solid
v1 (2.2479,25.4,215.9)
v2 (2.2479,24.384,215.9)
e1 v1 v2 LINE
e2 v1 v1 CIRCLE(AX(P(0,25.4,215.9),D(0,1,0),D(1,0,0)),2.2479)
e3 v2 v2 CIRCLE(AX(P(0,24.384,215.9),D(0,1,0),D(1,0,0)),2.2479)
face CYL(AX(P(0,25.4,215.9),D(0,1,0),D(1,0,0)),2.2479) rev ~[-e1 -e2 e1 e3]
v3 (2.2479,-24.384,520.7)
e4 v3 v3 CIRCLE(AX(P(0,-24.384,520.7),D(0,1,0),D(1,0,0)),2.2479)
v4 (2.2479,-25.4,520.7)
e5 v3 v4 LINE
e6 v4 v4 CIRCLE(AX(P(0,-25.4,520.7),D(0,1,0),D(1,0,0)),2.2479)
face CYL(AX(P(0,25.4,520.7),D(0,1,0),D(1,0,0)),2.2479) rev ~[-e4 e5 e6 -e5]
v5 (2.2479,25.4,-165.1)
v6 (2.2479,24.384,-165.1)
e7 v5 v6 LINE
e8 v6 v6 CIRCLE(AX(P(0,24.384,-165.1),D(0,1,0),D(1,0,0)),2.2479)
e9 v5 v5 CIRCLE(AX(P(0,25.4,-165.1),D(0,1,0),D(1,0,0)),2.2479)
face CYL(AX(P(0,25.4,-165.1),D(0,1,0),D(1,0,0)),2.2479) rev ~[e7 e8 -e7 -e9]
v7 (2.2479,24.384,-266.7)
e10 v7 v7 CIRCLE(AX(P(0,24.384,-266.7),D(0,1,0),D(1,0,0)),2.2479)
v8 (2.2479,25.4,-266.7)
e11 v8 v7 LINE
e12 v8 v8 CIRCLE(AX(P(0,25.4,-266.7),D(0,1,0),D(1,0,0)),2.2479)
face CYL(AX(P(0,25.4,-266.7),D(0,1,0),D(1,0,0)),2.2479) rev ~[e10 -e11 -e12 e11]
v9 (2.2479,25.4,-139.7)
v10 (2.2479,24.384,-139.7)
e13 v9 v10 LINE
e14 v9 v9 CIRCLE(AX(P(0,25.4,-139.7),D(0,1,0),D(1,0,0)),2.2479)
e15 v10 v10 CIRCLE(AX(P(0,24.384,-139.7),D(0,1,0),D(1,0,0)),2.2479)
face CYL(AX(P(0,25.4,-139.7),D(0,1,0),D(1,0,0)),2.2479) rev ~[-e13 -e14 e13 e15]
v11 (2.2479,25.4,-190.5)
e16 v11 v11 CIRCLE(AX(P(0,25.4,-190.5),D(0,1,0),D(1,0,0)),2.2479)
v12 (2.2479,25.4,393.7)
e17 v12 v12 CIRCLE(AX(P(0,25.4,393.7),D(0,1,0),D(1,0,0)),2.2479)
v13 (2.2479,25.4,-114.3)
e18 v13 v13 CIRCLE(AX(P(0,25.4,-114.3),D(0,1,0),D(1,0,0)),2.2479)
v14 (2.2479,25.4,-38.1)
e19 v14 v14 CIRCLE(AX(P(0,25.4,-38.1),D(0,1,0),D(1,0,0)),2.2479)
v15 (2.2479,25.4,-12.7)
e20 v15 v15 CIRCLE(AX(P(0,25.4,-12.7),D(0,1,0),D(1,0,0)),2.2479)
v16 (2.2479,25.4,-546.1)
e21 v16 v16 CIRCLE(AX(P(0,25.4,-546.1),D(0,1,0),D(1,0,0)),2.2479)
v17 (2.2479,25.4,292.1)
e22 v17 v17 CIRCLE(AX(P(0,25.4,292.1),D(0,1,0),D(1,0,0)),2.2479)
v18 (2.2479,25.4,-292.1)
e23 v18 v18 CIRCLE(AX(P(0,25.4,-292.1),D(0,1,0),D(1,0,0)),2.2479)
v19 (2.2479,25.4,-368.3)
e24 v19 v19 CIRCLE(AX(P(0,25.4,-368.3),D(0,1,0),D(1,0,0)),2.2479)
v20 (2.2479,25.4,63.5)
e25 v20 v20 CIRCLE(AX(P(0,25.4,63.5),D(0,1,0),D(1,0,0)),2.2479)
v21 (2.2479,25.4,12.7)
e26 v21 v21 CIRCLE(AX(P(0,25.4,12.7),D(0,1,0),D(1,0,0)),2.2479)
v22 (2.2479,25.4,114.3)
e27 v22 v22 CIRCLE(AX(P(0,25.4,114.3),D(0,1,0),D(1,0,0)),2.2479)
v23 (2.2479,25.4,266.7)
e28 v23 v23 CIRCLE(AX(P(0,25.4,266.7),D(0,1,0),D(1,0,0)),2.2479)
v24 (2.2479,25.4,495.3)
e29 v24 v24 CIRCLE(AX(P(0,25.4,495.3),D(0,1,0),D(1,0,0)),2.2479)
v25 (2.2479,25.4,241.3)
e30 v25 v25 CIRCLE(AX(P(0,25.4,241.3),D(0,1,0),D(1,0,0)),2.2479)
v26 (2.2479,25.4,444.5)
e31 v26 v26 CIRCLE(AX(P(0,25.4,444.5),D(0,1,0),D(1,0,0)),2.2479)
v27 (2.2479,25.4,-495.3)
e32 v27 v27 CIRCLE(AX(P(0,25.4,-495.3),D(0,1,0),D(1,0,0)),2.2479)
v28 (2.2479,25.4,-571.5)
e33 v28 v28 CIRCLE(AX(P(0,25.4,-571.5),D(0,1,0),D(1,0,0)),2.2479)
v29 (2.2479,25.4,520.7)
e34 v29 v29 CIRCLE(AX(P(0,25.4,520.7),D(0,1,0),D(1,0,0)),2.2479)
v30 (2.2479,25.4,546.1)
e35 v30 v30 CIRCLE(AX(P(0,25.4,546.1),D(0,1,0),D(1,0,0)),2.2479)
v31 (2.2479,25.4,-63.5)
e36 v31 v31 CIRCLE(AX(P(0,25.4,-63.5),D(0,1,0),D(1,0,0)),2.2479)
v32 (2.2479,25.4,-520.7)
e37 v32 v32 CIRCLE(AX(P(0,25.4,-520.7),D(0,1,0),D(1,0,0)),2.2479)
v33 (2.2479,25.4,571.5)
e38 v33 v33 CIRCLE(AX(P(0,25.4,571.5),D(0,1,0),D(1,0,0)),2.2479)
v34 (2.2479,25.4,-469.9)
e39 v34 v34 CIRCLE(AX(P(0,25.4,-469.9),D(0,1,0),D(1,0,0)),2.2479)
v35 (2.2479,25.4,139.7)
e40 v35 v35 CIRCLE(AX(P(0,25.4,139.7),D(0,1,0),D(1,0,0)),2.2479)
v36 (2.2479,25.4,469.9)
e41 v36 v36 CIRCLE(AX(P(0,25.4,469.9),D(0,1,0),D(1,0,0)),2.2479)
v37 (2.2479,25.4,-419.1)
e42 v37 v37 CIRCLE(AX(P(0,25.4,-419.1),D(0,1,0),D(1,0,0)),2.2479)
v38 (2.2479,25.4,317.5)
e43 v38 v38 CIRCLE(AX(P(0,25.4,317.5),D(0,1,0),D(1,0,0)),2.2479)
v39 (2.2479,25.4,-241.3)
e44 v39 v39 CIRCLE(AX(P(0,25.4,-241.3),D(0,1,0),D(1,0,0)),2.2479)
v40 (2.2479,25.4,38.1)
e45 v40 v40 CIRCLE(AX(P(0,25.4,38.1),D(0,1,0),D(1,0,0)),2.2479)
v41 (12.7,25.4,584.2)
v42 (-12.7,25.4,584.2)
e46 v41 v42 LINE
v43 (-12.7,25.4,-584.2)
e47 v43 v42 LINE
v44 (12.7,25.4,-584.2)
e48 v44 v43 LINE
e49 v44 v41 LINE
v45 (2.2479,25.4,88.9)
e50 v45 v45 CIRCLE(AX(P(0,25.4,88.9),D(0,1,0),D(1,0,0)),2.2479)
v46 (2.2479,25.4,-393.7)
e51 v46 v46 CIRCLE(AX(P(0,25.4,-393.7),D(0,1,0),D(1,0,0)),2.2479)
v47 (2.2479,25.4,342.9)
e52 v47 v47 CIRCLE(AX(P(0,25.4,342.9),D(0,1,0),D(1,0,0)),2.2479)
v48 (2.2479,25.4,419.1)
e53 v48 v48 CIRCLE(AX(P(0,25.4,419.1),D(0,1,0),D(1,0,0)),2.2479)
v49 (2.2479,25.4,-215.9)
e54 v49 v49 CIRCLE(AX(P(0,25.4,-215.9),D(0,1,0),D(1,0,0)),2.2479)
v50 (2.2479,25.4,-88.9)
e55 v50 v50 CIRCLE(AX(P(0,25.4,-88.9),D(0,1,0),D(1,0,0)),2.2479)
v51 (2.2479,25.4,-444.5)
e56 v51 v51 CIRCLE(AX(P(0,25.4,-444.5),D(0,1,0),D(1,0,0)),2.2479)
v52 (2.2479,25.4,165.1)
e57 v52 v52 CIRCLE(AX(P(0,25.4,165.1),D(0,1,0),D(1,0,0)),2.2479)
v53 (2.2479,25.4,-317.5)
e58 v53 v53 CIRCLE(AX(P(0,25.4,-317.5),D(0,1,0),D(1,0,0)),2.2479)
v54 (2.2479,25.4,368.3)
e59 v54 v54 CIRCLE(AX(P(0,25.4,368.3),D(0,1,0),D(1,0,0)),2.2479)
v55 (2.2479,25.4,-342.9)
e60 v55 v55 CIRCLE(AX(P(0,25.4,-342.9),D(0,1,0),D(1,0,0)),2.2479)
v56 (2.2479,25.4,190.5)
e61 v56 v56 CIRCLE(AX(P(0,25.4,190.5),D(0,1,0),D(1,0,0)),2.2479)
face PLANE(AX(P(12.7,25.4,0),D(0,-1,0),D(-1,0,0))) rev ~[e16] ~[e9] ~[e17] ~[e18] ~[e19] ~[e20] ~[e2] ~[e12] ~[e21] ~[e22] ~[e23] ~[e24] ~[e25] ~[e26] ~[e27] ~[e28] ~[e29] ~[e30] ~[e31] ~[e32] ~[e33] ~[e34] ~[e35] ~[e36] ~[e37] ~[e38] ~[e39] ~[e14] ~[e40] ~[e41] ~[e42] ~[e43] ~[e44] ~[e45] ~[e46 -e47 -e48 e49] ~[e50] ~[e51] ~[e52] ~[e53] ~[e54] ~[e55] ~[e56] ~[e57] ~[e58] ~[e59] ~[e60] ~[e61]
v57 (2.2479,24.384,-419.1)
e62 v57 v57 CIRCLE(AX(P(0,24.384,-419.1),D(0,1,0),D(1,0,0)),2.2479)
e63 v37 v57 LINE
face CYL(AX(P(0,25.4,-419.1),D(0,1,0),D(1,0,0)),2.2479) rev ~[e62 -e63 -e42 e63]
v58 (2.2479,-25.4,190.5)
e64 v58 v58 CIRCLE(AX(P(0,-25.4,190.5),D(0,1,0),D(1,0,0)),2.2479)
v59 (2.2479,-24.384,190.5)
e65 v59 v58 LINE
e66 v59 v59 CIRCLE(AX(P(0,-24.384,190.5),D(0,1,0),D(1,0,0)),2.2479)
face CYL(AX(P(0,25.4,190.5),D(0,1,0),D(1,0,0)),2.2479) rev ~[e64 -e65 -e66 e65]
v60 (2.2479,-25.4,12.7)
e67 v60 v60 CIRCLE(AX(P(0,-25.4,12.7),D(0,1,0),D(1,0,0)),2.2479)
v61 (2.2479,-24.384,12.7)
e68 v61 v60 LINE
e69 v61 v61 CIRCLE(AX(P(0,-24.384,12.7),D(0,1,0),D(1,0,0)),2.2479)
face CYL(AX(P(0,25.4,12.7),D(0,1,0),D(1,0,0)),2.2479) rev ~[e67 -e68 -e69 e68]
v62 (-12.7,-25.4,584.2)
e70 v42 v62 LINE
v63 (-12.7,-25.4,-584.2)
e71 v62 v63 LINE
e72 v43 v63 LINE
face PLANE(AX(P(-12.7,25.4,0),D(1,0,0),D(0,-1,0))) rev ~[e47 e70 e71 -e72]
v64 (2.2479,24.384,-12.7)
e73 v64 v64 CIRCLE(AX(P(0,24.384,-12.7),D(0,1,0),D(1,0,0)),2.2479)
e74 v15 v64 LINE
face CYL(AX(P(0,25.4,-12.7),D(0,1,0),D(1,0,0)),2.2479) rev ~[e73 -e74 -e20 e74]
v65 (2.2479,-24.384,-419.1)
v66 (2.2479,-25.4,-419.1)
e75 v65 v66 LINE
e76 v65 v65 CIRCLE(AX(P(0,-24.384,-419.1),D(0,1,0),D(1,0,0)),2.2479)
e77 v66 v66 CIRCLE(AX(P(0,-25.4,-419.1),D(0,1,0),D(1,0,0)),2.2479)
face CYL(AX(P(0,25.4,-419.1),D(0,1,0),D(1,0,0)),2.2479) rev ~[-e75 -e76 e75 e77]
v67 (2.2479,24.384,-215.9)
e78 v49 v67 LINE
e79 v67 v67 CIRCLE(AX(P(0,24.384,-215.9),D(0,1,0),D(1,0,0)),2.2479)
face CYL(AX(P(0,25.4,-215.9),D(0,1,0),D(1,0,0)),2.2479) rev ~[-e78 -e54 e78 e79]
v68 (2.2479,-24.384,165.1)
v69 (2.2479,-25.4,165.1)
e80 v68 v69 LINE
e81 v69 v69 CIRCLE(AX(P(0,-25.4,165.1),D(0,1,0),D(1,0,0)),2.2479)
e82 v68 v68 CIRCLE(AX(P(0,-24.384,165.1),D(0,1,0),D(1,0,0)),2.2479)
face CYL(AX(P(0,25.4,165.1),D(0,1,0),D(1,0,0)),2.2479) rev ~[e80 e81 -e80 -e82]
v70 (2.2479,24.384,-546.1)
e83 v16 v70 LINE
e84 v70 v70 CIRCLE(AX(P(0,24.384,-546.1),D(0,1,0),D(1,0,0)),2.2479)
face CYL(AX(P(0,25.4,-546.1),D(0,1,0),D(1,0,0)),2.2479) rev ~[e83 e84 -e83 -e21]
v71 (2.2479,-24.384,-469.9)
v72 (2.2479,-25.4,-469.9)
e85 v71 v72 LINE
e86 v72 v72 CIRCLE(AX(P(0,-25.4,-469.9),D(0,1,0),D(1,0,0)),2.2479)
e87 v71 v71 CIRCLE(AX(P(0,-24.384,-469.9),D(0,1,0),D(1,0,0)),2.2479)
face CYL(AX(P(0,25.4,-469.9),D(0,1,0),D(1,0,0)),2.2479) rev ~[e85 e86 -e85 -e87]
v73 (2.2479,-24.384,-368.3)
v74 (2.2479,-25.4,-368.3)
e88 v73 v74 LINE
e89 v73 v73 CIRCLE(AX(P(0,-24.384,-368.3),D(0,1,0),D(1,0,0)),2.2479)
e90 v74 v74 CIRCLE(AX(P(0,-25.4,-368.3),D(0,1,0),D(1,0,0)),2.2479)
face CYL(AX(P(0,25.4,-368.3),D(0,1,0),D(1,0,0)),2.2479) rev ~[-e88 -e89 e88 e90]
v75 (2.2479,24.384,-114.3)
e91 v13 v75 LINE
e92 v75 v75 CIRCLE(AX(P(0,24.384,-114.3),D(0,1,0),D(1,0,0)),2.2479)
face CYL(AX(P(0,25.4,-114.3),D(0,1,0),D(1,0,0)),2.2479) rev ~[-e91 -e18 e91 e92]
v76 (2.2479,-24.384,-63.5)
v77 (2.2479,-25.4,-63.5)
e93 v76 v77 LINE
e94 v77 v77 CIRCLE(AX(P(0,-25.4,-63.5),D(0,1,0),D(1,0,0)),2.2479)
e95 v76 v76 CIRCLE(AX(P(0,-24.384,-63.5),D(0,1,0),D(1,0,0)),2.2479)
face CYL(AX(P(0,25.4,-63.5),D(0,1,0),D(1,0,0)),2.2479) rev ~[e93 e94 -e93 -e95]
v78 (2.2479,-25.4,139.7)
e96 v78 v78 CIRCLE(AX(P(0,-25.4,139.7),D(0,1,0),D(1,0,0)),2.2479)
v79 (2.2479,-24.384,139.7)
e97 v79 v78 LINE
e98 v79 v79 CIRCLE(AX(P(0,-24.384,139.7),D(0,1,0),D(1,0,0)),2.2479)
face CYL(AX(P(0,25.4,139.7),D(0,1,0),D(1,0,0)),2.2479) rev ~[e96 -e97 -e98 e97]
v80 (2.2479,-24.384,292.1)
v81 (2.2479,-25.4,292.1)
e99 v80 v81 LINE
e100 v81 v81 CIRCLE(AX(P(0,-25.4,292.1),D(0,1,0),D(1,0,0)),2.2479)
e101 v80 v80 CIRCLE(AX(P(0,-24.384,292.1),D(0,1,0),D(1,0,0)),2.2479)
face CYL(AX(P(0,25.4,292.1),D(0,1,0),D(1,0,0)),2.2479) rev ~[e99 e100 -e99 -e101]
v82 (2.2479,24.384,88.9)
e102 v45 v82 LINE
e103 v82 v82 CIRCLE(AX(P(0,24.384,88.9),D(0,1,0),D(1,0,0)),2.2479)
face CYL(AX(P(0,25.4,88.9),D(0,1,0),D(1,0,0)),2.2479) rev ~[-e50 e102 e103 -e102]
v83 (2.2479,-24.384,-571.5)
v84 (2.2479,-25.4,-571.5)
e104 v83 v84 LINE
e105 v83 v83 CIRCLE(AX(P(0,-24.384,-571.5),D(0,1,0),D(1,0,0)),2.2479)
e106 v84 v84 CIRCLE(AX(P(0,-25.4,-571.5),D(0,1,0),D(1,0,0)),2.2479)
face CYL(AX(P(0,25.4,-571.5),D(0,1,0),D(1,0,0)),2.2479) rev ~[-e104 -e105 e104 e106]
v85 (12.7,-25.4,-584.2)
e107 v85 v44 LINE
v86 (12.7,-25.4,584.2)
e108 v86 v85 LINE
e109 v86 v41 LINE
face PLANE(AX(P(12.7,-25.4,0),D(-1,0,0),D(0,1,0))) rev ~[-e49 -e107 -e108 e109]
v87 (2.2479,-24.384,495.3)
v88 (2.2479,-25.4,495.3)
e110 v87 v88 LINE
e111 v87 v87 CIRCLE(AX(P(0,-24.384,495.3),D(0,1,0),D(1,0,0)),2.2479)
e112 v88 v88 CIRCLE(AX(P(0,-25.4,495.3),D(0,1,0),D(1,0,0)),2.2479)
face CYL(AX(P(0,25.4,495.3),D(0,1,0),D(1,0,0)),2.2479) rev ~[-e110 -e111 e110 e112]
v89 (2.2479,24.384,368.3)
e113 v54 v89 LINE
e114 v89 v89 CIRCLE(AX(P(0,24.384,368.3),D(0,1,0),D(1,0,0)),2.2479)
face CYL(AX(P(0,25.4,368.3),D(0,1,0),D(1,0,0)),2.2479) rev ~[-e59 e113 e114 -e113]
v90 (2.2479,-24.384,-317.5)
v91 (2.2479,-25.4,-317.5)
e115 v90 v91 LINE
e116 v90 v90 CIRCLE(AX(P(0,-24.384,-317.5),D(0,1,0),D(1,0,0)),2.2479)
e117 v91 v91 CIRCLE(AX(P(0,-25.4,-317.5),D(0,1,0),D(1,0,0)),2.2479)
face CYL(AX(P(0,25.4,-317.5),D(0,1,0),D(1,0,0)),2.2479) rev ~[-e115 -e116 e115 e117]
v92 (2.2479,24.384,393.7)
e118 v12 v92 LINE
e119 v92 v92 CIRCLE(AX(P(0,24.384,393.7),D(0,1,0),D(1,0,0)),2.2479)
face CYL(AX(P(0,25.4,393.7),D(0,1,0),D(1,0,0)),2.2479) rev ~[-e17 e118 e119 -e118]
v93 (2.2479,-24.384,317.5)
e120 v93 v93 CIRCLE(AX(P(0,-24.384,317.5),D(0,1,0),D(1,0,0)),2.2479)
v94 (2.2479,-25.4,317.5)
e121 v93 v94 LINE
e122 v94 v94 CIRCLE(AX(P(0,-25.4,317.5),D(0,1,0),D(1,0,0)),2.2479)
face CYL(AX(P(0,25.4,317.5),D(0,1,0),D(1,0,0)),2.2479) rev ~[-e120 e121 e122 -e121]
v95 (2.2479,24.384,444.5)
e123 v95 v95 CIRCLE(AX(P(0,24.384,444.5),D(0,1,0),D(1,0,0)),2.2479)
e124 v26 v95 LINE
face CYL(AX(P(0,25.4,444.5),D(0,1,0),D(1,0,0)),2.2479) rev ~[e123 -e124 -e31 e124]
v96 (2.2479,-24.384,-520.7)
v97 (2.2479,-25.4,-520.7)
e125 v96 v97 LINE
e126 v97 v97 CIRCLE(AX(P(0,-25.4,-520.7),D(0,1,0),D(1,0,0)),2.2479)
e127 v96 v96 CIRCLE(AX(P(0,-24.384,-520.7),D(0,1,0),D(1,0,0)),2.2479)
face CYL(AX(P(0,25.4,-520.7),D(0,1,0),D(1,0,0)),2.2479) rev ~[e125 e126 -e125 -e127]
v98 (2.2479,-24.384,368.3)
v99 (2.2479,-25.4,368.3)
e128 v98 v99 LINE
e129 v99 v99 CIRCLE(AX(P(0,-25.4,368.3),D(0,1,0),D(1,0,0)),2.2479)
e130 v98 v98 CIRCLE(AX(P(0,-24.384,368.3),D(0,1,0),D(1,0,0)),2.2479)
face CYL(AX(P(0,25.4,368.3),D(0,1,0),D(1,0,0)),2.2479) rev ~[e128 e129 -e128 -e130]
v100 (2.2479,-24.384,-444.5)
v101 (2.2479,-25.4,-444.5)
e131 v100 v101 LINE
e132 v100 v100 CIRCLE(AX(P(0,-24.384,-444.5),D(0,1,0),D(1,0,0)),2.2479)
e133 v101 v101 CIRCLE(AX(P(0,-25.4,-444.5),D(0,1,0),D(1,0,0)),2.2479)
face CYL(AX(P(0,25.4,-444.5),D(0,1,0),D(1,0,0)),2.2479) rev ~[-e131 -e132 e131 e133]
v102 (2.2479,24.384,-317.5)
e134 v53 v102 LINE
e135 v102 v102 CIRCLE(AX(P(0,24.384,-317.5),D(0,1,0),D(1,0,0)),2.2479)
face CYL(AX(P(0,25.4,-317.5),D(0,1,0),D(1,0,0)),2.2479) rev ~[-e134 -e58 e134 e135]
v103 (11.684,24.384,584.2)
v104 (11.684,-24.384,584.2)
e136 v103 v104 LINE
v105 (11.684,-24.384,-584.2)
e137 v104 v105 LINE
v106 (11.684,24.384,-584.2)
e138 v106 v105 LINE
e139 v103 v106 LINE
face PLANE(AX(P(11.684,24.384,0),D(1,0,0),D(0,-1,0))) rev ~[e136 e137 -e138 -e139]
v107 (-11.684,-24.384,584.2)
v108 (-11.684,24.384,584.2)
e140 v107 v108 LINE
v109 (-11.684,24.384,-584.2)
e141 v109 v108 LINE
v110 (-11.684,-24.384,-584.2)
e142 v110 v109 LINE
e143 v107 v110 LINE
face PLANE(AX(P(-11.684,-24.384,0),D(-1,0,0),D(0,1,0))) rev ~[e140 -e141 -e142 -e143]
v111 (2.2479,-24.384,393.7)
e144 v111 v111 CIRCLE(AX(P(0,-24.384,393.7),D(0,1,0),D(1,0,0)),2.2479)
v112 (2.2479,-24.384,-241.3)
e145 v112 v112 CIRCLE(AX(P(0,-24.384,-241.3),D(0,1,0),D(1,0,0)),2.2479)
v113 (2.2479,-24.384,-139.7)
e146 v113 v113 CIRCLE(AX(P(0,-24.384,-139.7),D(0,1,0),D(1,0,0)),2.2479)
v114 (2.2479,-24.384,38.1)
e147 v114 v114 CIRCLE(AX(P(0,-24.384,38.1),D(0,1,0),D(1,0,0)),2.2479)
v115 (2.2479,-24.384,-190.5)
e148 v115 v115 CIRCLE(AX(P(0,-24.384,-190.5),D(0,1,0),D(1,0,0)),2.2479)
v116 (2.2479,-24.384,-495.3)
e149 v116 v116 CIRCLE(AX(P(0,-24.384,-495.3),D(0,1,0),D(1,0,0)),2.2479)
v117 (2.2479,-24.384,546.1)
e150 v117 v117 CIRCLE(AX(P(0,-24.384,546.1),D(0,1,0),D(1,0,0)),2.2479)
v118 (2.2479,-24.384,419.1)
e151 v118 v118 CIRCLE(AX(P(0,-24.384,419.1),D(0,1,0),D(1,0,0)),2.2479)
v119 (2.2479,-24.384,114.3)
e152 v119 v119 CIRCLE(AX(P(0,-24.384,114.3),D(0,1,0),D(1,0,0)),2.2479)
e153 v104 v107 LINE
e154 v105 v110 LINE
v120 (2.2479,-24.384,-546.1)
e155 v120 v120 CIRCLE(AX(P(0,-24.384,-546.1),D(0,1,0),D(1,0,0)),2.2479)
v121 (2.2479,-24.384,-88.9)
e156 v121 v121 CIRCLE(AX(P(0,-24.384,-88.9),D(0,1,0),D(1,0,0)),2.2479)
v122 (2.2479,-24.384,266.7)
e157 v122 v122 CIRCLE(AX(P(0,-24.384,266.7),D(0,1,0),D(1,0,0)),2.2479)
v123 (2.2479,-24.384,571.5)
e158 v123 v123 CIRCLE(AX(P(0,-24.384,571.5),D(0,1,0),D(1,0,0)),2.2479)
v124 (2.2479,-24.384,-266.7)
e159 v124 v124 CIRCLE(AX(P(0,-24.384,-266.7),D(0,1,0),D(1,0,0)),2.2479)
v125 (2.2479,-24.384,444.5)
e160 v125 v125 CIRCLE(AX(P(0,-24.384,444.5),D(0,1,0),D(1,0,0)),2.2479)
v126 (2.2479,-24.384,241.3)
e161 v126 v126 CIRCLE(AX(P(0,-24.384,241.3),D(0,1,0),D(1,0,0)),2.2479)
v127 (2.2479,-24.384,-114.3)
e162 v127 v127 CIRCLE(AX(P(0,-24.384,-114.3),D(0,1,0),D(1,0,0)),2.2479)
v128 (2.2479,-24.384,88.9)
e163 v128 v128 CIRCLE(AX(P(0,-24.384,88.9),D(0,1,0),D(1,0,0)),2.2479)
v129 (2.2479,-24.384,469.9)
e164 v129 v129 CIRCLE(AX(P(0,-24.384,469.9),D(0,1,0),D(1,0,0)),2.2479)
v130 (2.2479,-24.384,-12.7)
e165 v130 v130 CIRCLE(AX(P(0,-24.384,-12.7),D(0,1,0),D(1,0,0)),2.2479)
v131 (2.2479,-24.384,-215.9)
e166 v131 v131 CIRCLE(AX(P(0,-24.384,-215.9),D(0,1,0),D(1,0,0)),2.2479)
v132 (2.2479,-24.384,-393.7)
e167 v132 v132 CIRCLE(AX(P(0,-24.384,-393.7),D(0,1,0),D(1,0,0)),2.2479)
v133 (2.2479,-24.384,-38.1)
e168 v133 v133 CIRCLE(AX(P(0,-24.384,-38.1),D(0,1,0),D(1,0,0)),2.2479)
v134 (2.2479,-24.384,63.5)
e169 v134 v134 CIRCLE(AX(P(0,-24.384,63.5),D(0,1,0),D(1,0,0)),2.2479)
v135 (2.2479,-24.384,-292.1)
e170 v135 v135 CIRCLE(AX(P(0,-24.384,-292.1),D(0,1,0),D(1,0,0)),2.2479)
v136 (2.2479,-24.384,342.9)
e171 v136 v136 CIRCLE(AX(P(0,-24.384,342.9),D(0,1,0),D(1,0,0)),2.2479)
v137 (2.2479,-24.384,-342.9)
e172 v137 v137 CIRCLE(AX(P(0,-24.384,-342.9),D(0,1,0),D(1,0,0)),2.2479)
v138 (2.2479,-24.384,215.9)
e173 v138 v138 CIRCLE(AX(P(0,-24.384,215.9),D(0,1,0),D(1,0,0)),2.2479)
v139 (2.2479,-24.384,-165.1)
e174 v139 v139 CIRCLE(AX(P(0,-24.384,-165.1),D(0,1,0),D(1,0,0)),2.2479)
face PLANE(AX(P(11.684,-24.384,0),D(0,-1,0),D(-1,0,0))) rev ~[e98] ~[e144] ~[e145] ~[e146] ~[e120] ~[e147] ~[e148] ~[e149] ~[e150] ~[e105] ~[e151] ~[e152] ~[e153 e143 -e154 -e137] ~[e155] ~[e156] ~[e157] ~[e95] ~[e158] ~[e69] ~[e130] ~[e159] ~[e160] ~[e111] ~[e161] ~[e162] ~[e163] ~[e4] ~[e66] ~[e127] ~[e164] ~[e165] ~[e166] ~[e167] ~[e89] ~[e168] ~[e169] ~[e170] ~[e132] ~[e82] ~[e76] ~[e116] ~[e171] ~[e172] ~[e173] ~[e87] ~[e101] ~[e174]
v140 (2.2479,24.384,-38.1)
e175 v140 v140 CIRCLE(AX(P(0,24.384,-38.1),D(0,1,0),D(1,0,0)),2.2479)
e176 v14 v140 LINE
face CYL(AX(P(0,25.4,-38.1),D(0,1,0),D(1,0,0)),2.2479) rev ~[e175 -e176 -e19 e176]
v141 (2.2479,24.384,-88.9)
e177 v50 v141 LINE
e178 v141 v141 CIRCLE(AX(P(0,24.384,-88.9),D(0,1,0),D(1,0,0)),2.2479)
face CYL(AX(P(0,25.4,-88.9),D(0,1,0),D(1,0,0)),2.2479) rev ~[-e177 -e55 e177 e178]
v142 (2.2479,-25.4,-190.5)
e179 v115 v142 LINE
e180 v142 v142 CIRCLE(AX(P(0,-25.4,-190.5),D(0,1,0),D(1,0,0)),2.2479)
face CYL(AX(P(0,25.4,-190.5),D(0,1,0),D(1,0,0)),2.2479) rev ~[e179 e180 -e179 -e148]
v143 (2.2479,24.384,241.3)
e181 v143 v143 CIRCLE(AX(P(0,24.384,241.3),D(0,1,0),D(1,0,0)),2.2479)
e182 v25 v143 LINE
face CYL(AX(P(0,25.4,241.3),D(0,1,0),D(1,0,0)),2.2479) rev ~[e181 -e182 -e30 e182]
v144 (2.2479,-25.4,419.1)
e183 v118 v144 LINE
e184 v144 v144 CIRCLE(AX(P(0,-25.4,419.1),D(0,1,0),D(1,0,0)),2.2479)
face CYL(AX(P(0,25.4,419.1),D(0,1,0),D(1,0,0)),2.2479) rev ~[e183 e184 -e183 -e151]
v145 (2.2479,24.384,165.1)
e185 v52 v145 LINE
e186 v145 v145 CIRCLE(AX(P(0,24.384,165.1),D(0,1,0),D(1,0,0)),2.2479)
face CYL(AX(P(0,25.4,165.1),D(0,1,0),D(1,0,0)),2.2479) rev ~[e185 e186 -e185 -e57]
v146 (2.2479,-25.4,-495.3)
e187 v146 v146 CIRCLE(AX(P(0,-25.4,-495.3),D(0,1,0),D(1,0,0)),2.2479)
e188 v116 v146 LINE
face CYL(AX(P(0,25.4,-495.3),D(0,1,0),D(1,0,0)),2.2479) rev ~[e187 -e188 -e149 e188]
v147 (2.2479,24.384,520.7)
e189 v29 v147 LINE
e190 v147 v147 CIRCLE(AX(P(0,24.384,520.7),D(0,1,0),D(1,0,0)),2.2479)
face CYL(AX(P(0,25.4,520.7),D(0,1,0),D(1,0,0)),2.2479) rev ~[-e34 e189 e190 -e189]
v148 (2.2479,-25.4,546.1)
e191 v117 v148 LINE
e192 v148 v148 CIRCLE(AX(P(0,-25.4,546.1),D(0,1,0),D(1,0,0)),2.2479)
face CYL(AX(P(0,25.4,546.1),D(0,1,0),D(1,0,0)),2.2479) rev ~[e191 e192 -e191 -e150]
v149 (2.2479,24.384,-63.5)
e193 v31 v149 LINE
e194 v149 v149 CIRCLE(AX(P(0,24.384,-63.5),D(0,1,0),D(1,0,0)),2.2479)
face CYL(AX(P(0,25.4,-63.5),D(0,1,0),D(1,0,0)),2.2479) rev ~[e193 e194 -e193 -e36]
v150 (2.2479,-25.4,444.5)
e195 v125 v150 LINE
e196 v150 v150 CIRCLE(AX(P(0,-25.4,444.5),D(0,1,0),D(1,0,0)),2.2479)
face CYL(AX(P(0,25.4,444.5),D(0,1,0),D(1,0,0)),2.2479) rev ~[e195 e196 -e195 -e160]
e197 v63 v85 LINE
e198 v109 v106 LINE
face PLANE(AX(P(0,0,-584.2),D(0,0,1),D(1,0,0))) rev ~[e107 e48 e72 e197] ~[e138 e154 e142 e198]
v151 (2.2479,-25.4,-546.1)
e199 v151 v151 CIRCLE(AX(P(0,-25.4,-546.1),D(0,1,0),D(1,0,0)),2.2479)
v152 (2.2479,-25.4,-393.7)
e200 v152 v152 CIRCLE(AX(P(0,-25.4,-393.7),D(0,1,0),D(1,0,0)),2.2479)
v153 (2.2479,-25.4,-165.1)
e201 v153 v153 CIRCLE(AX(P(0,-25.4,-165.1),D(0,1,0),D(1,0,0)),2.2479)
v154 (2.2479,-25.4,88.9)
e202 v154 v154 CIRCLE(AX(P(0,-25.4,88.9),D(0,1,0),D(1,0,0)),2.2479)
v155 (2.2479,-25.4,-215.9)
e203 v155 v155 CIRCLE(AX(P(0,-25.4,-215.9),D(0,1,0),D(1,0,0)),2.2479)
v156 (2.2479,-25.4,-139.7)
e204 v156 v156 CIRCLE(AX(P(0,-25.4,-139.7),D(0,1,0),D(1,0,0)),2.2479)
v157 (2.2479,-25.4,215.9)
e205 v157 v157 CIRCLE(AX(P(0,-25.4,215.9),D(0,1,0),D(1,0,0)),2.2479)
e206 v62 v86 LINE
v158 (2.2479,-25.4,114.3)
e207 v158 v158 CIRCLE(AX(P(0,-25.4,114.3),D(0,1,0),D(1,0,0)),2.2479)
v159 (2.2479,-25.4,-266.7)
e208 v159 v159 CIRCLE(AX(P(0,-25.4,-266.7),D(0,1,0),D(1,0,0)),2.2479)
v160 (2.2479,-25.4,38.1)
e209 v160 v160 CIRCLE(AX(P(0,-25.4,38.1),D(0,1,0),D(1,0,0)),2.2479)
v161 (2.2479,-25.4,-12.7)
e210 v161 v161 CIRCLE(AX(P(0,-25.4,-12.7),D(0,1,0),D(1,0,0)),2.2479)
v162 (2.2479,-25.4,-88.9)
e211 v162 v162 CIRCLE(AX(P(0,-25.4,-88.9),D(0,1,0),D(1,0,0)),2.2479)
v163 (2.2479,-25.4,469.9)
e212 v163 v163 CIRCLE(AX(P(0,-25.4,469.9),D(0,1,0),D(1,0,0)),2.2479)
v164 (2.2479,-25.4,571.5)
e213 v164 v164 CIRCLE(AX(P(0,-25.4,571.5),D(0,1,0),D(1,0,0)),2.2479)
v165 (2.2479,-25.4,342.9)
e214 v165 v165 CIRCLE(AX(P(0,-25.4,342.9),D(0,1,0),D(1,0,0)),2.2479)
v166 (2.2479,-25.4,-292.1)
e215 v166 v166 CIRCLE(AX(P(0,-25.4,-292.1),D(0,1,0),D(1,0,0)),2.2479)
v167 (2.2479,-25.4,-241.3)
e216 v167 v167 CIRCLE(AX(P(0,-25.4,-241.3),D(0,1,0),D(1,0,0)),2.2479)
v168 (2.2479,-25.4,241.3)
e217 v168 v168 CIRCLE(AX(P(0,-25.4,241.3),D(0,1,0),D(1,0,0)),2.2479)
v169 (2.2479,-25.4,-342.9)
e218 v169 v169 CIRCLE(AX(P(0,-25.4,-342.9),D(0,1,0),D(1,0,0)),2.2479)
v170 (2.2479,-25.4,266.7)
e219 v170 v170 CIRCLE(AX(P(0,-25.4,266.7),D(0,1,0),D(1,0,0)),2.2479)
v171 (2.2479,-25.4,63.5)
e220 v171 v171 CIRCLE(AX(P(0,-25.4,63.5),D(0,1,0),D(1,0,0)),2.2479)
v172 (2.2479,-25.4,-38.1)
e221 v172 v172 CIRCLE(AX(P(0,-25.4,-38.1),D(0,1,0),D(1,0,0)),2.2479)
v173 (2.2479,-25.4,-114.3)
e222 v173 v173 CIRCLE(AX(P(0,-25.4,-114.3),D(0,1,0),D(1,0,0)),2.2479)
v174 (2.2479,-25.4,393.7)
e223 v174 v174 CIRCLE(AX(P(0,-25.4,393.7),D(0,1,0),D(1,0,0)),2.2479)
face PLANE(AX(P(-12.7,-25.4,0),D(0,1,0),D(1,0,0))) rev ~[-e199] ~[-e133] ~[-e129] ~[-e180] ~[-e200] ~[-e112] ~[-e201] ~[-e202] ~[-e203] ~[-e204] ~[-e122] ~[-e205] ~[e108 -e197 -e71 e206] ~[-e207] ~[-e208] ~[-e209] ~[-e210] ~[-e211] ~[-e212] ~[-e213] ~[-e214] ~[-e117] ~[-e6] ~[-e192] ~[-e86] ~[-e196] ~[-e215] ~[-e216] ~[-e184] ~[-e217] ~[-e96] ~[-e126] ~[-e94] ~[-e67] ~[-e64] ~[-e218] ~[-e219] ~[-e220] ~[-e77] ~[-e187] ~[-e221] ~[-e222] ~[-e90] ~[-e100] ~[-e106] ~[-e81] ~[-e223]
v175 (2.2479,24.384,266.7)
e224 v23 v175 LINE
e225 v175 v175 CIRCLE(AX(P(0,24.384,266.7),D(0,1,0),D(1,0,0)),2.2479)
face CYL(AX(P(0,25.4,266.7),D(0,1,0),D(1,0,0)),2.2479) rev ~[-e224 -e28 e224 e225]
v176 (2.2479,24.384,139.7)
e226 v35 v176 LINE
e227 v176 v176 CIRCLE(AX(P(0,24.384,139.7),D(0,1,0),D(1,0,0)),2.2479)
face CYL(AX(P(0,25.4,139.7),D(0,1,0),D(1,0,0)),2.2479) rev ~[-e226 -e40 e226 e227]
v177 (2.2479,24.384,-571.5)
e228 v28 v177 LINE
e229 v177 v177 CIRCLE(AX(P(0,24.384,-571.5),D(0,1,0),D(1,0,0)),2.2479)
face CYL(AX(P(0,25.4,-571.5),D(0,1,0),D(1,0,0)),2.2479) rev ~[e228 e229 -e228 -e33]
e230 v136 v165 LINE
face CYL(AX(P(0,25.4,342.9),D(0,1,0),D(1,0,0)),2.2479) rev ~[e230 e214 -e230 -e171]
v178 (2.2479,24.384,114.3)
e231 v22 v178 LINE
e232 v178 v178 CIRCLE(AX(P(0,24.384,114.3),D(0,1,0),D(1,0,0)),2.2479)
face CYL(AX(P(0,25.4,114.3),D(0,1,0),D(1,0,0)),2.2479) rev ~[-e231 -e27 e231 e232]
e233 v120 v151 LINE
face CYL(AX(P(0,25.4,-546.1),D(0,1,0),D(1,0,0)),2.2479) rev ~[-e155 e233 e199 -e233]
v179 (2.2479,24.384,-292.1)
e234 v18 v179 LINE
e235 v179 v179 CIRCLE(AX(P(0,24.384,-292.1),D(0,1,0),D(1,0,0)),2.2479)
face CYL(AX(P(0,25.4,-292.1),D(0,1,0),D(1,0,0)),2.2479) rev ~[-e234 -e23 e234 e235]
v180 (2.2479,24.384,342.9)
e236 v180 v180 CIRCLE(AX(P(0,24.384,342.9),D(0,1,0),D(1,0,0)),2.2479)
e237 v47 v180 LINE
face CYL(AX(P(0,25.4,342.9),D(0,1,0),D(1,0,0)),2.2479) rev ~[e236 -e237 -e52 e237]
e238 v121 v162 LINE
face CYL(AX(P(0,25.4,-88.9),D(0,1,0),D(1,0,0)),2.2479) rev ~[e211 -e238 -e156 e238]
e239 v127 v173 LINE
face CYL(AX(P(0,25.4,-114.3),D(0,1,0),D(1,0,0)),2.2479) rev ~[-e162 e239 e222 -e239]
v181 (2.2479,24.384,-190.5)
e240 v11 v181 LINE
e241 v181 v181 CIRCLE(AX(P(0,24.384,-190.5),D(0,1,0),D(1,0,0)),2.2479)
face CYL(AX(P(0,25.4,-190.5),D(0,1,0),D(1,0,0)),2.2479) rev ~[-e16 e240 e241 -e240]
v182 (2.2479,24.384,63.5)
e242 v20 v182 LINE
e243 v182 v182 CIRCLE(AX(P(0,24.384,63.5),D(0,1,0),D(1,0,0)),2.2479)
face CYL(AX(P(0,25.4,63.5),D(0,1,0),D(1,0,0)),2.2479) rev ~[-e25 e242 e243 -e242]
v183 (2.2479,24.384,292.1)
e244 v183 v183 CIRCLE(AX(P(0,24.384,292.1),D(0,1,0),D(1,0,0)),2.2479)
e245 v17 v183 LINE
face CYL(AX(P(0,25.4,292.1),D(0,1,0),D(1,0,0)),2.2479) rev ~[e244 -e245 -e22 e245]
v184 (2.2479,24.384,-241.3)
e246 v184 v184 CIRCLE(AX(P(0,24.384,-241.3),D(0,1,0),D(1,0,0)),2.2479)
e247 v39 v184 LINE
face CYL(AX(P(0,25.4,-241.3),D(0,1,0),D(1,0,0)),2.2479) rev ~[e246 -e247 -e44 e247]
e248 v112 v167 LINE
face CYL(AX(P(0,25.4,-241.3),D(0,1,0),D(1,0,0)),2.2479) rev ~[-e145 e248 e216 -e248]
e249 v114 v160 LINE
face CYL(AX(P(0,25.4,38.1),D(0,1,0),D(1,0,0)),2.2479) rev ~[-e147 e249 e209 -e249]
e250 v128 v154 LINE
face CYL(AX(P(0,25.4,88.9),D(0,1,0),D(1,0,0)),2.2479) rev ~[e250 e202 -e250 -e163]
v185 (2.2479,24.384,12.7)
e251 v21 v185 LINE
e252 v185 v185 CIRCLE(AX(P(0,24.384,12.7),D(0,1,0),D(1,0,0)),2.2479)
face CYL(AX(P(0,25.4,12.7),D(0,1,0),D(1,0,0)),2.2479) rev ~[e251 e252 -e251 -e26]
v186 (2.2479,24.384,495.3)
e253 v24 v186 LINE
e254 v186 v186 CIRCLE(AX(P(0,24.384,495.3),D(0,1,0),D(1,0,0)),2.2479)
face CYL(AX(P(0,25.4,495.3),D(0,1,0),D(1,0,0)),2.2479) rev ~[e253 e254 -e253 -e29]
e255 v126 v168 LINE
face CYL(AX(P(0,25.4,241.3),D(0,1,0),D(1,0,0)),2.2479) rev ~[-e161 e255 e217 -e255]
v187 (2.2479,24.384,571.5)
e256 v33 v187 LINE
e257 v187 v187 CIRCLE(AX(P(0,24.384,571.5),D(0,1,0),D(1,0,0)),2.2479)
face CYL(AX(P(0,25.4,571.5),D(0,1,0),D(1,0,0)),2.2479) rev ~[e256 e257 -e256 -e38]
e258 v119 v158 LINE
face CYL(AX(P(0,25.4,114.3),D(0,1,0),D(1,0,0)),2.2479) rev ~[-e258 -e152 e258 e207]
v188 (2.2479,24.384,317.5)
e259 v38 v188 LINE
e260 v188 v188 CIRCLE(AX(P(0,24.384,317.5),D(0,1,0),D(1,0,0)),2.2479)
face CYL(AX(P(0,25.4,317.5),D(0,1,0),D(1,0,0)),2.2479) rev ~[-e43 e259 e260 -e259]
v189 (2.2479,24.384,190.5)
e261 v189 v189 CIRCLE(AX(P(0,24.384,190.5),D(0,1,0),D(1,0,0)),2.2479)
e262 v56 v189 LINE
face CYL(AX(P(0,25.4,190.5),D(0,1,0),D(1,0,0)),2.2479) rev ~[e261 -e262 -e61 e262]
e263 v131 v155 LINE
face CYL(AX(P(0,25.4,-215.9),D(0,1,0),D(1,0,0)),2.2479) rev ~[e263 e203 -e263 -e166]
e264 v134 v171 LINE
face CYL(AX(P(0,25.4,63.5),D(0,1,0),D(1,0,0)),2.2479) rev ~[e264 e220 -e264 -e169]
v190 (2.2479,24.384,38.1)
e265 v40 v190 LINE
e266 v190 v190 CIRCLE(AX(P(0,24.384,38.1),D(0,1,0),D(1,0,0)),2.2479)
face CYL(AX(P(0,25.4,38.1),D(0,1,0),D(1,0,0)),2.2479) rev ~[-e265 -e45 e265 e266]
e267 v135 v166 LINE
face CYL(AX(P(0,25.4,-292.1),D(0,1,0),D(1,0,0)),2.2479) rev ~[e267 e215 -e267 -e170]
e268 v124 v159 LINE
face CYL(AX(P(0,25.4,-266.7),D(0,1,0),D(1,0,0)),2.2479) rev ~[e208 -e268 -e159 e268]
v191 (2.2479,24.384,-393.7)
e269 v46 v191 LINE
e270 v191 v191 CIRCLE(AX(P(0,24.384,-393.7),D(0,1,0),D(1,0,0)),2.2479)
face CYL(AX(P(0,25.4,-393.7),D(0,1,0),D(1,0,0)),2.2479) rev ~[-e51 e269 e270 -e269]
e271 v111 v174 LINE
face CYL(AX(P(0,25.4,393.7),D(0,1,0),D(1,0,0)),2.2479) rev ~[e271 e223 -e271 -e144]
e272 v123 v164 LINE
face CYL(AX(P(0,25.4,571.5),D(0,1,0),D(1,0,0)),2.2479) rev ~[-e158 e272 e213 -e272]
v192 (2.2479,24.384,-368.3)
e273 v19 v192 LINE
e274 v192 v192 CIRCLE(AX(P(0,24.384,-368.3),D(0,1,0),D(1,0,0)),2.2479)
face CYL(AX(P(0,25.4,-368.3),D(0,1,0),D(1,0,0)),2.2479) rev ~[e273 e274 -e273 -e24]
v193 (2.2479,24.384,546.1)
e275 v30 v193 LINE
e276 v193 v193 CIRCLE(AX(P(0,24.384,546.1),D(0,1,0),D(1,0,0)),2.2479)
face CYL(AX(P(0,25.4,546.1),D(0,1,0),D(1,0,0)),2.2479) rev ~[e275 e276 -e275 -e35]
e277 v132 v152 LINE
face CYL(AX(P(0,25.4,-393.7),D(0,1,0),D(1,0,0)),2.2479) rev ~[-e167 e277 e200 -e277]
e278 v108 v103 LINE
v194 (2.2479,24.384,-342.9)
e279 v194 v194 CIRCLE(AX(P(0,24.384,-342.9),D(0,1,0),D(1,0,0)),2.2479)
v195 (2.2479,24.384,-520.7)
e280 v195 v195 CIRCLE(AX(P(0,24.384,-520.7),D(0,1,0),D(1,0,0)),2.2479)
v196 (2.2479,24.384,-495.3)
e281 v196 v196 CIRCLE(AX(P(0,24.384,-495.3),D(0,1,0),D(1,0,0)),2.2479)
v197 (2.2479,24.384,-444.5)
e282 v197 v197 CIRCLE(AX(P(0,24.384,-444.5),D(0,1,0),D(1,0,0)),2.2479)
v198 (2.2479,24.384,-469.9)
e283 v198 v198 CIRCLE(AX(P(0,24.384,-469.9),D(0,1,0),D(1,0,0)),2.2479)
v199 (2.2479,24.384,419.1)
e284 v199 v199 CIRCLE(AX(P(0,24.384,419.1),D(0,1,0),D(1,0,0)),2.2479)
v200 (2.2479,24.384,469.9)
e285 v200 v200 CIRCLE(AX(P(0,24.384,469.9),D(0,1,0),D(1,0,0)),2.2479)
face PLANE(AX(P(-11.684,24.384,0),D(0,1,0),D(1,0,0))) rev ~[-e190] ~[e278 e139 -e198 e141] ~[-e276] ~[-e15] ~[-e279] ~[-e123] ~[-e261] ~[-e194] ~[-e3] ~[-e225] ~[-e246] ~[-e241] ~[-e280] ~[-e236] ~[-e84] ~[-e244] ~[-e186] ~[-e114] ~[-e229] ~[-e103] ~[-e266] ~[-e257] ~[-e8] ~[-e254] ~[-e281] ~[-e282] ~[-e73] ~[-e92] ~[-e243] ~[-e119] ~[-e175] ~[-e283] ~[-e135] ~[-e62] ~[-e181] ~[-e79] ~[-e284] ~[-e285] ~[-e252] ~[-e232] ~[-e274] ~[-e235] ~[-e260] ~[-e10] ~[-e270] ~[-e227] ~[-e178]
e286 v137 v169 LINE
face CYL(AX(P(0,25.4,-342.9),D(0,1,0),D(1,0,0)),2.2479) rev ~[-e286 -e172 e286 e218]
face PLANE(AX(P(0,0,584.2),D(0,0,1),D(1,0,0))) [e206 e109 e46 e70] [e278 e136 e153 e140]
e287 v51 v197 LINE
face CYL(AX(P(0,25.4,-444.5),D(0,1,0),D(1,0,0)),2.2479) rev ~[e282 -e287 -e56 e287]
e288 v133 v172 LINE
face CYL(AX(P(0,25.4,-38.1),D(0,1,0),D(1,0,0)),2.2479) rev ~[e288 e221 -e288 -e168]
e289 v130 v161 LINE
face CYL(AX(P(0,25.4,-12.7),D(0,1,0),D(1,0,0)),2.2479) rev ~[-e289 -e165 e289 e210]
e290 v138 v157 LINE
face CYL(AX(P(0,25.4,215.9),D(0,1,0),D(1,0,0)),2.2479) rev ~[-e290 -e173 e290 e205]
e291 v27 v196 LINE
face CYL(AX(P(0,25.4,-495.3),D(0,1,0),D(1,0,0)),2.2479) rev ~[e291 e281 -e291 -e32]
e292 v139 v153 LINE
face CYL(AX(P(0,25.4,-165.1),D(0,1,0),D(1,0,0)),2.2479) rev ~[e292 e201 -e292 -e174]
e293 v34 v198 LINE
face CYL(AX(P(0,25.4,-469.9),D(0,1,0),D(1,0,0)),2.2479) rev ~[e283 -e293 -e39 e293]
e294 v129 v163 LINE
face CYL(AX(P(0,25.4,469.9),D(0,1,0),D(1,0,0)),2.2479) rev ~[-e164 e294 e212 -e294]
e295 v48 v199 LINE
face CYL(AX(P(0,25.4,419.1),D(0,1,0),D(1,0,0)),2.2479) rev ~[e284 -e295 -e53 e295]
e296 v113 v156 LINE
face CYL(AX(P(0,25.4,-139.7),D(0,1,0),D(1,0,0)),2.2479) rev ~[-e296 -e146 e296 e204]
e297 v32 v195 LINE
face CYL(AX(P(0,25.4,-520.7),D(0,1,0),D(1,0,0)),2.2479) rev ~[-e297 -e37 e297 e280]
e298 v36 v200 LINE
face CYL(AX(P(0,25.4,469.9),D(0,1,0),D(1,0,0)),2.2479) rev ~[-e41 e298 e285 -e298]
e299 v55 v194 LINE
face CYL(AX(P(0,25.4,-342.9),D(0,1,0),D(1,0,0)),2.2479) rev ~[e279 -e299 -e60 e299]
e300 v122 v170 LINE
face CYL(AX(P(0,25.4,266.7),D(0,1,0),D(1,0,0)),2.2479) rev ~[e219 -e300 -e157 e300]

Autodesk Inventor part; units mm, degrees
ref_plane "YZ Plane" through (0, 0, 0) normal (1, 0, 0) x (0, 1, 0)
ref_plane "XZ Plane" through (0, 0, 0) normal (0, 1, 0) x (-1, 0, 0)
ref_plane "XY Plane" through (0, 0, 0) normal (0, 0, 1) x (1, 0, 0)
sketch "Sketch1" plane through (0, 0, 0) normal (0, 0, 1) x (1, 0, 0)
  line L0 (12.7, 25.4) -> (-12.7, 25.4)
  line L1 (-12.7, 25.4) -> (-12.7, -25.4)
  line L2 (-12.7, -25.4) -> (12.7, -25.4)
  line L3 (12.7, -25.4) -> (12.7, 25.4)
  line L4 (12.7, 25.4) -> (-12.7, -25.4) construction
  line L5 (-12.7, 25.4) -> (12.7, -25.4) construction
  line L6 (-11.684, 24.384) -> (11.684, 24.384)
  line L7 (11.684, 24.384) -> (11.684, -24.384)
  line L8 (11.684, -24.384) -> (-11.684, -24.384)
  line L9 (-11.684, -24.384) -> (-11.684, 24.384)
  point P0 (0, 0)
  dimension "d0" = 1.016
  dimension "d1" = 50.8
  dimension "d2" = 25.4
extrude "Tube Length" add sketch "Sketch1" along normal mid plane 1168.4
sketch "Sketch2" plane through (-12.7, 25.4, 584.2) normal (0, 1, 0) x (1, 0, 0)
  line L0 (0, 0) -> (0, 1168.4) projected
  line L1 (25.4, 0) -> (0, 0) projected
  line L2 (25.4, 1168.4) -> (25.4, 0) projected
  line L3 (0, 1168.4) -> (25.4, 1168.4) projected
  line L4 (25.4, 0) -> (0, 0) projected
  line L5 (12.7, 0) -> (12.7, 12.7) construction
  circle A0 centre (12.7, 12.7) radius 2.2479
  point P0 (12.7, 584.2)
  dimension "d5" = 12.7
  dimension "d6" = 4.4958
extrude "Top Hole" cut sketch "Sketch2" against normal through all contours A0
sketch "Sketch3" plane through (0, 0, 584.2) normal (0, 0, 1) x (1, 0, 0)
  line L0 (0, 0) -> (0, 25.4) construction
  line L1 (12.7, 25.4) -> (-12.7, 25.4) projected
  line L2 (-0.0508, 25.4) -> (0, 25.2984)
  line L3 (0.0508, 25.4) -> (0, 25.2984)
  line L4 (-12.7, 12.6492) -> (-12.5984, 12.7)
  line L5 (-12.7, 12.7508) -> (-12.5984, 12.7)
  line L6 (-12.7, -0.0508) -> (-12.5984, 0)
  line L7 (-12.7, 0.0508) -> (-12.5984, 0)
  line L8 (-12.7, -12.7508) -> (-12.5984, -12.7)
  line L9 (-12.7, -12.6492) -> (-12.5984, -12.7)
  line L10 (12.7, 0.0508) -> (12.5984, 0)
  line L11 (12.7, 12.6492) -> (12.5984, 12.7)
  line L12 (12.7, 12.7508) -> (12.5984, 12.7)
  line L13 (12.7, -0.0508) -> (12.5984, 0)
  line L14 (12.7, -12.6492) -> (12.5984, -12.7)
  line L15 (12.7, -12.7508) -> (12.5984, -12.7)
  line L16 (0.0508, -25.4) -> (0, -25.2984)
  line L17 (-0.0508, -25.4) -> (0, -25.2984)
  line L18 (-12.7, 25.4) -> (-12.7, -25.4) projected
  line L19 (12.7, -25.4) -> (12.7, 25.4) projected
  line L20 (-12.7, -25.4) -> (12.7, -25.4) projected
  point P0 (0, 12.7)
  point P1 (-12.7, 12.7)
  point P2 (-12.7, 0)
  point P3 (-12.7, -12.7)
  point P4 (12.7, 12.7)
  point P5 (12.7, 0)
  point P6 (12.7, -12.7)
  point P7 (0, -25.4)
  dimension "d12" = 0.1016
  dimension "d13" = 0.1016
  dimension "d16" = 90
  dimension "d20" = 12.7
  dimension "d27" = 360
pattern_linear "Rectangular Pattern1" count 46 spacing 25.4 along (0, 0, -1) of "Top Hole"
equation "\"d13\" = d12"
properties part number "Stage 2 Bottom Tube" material "Aluminum 6061"
